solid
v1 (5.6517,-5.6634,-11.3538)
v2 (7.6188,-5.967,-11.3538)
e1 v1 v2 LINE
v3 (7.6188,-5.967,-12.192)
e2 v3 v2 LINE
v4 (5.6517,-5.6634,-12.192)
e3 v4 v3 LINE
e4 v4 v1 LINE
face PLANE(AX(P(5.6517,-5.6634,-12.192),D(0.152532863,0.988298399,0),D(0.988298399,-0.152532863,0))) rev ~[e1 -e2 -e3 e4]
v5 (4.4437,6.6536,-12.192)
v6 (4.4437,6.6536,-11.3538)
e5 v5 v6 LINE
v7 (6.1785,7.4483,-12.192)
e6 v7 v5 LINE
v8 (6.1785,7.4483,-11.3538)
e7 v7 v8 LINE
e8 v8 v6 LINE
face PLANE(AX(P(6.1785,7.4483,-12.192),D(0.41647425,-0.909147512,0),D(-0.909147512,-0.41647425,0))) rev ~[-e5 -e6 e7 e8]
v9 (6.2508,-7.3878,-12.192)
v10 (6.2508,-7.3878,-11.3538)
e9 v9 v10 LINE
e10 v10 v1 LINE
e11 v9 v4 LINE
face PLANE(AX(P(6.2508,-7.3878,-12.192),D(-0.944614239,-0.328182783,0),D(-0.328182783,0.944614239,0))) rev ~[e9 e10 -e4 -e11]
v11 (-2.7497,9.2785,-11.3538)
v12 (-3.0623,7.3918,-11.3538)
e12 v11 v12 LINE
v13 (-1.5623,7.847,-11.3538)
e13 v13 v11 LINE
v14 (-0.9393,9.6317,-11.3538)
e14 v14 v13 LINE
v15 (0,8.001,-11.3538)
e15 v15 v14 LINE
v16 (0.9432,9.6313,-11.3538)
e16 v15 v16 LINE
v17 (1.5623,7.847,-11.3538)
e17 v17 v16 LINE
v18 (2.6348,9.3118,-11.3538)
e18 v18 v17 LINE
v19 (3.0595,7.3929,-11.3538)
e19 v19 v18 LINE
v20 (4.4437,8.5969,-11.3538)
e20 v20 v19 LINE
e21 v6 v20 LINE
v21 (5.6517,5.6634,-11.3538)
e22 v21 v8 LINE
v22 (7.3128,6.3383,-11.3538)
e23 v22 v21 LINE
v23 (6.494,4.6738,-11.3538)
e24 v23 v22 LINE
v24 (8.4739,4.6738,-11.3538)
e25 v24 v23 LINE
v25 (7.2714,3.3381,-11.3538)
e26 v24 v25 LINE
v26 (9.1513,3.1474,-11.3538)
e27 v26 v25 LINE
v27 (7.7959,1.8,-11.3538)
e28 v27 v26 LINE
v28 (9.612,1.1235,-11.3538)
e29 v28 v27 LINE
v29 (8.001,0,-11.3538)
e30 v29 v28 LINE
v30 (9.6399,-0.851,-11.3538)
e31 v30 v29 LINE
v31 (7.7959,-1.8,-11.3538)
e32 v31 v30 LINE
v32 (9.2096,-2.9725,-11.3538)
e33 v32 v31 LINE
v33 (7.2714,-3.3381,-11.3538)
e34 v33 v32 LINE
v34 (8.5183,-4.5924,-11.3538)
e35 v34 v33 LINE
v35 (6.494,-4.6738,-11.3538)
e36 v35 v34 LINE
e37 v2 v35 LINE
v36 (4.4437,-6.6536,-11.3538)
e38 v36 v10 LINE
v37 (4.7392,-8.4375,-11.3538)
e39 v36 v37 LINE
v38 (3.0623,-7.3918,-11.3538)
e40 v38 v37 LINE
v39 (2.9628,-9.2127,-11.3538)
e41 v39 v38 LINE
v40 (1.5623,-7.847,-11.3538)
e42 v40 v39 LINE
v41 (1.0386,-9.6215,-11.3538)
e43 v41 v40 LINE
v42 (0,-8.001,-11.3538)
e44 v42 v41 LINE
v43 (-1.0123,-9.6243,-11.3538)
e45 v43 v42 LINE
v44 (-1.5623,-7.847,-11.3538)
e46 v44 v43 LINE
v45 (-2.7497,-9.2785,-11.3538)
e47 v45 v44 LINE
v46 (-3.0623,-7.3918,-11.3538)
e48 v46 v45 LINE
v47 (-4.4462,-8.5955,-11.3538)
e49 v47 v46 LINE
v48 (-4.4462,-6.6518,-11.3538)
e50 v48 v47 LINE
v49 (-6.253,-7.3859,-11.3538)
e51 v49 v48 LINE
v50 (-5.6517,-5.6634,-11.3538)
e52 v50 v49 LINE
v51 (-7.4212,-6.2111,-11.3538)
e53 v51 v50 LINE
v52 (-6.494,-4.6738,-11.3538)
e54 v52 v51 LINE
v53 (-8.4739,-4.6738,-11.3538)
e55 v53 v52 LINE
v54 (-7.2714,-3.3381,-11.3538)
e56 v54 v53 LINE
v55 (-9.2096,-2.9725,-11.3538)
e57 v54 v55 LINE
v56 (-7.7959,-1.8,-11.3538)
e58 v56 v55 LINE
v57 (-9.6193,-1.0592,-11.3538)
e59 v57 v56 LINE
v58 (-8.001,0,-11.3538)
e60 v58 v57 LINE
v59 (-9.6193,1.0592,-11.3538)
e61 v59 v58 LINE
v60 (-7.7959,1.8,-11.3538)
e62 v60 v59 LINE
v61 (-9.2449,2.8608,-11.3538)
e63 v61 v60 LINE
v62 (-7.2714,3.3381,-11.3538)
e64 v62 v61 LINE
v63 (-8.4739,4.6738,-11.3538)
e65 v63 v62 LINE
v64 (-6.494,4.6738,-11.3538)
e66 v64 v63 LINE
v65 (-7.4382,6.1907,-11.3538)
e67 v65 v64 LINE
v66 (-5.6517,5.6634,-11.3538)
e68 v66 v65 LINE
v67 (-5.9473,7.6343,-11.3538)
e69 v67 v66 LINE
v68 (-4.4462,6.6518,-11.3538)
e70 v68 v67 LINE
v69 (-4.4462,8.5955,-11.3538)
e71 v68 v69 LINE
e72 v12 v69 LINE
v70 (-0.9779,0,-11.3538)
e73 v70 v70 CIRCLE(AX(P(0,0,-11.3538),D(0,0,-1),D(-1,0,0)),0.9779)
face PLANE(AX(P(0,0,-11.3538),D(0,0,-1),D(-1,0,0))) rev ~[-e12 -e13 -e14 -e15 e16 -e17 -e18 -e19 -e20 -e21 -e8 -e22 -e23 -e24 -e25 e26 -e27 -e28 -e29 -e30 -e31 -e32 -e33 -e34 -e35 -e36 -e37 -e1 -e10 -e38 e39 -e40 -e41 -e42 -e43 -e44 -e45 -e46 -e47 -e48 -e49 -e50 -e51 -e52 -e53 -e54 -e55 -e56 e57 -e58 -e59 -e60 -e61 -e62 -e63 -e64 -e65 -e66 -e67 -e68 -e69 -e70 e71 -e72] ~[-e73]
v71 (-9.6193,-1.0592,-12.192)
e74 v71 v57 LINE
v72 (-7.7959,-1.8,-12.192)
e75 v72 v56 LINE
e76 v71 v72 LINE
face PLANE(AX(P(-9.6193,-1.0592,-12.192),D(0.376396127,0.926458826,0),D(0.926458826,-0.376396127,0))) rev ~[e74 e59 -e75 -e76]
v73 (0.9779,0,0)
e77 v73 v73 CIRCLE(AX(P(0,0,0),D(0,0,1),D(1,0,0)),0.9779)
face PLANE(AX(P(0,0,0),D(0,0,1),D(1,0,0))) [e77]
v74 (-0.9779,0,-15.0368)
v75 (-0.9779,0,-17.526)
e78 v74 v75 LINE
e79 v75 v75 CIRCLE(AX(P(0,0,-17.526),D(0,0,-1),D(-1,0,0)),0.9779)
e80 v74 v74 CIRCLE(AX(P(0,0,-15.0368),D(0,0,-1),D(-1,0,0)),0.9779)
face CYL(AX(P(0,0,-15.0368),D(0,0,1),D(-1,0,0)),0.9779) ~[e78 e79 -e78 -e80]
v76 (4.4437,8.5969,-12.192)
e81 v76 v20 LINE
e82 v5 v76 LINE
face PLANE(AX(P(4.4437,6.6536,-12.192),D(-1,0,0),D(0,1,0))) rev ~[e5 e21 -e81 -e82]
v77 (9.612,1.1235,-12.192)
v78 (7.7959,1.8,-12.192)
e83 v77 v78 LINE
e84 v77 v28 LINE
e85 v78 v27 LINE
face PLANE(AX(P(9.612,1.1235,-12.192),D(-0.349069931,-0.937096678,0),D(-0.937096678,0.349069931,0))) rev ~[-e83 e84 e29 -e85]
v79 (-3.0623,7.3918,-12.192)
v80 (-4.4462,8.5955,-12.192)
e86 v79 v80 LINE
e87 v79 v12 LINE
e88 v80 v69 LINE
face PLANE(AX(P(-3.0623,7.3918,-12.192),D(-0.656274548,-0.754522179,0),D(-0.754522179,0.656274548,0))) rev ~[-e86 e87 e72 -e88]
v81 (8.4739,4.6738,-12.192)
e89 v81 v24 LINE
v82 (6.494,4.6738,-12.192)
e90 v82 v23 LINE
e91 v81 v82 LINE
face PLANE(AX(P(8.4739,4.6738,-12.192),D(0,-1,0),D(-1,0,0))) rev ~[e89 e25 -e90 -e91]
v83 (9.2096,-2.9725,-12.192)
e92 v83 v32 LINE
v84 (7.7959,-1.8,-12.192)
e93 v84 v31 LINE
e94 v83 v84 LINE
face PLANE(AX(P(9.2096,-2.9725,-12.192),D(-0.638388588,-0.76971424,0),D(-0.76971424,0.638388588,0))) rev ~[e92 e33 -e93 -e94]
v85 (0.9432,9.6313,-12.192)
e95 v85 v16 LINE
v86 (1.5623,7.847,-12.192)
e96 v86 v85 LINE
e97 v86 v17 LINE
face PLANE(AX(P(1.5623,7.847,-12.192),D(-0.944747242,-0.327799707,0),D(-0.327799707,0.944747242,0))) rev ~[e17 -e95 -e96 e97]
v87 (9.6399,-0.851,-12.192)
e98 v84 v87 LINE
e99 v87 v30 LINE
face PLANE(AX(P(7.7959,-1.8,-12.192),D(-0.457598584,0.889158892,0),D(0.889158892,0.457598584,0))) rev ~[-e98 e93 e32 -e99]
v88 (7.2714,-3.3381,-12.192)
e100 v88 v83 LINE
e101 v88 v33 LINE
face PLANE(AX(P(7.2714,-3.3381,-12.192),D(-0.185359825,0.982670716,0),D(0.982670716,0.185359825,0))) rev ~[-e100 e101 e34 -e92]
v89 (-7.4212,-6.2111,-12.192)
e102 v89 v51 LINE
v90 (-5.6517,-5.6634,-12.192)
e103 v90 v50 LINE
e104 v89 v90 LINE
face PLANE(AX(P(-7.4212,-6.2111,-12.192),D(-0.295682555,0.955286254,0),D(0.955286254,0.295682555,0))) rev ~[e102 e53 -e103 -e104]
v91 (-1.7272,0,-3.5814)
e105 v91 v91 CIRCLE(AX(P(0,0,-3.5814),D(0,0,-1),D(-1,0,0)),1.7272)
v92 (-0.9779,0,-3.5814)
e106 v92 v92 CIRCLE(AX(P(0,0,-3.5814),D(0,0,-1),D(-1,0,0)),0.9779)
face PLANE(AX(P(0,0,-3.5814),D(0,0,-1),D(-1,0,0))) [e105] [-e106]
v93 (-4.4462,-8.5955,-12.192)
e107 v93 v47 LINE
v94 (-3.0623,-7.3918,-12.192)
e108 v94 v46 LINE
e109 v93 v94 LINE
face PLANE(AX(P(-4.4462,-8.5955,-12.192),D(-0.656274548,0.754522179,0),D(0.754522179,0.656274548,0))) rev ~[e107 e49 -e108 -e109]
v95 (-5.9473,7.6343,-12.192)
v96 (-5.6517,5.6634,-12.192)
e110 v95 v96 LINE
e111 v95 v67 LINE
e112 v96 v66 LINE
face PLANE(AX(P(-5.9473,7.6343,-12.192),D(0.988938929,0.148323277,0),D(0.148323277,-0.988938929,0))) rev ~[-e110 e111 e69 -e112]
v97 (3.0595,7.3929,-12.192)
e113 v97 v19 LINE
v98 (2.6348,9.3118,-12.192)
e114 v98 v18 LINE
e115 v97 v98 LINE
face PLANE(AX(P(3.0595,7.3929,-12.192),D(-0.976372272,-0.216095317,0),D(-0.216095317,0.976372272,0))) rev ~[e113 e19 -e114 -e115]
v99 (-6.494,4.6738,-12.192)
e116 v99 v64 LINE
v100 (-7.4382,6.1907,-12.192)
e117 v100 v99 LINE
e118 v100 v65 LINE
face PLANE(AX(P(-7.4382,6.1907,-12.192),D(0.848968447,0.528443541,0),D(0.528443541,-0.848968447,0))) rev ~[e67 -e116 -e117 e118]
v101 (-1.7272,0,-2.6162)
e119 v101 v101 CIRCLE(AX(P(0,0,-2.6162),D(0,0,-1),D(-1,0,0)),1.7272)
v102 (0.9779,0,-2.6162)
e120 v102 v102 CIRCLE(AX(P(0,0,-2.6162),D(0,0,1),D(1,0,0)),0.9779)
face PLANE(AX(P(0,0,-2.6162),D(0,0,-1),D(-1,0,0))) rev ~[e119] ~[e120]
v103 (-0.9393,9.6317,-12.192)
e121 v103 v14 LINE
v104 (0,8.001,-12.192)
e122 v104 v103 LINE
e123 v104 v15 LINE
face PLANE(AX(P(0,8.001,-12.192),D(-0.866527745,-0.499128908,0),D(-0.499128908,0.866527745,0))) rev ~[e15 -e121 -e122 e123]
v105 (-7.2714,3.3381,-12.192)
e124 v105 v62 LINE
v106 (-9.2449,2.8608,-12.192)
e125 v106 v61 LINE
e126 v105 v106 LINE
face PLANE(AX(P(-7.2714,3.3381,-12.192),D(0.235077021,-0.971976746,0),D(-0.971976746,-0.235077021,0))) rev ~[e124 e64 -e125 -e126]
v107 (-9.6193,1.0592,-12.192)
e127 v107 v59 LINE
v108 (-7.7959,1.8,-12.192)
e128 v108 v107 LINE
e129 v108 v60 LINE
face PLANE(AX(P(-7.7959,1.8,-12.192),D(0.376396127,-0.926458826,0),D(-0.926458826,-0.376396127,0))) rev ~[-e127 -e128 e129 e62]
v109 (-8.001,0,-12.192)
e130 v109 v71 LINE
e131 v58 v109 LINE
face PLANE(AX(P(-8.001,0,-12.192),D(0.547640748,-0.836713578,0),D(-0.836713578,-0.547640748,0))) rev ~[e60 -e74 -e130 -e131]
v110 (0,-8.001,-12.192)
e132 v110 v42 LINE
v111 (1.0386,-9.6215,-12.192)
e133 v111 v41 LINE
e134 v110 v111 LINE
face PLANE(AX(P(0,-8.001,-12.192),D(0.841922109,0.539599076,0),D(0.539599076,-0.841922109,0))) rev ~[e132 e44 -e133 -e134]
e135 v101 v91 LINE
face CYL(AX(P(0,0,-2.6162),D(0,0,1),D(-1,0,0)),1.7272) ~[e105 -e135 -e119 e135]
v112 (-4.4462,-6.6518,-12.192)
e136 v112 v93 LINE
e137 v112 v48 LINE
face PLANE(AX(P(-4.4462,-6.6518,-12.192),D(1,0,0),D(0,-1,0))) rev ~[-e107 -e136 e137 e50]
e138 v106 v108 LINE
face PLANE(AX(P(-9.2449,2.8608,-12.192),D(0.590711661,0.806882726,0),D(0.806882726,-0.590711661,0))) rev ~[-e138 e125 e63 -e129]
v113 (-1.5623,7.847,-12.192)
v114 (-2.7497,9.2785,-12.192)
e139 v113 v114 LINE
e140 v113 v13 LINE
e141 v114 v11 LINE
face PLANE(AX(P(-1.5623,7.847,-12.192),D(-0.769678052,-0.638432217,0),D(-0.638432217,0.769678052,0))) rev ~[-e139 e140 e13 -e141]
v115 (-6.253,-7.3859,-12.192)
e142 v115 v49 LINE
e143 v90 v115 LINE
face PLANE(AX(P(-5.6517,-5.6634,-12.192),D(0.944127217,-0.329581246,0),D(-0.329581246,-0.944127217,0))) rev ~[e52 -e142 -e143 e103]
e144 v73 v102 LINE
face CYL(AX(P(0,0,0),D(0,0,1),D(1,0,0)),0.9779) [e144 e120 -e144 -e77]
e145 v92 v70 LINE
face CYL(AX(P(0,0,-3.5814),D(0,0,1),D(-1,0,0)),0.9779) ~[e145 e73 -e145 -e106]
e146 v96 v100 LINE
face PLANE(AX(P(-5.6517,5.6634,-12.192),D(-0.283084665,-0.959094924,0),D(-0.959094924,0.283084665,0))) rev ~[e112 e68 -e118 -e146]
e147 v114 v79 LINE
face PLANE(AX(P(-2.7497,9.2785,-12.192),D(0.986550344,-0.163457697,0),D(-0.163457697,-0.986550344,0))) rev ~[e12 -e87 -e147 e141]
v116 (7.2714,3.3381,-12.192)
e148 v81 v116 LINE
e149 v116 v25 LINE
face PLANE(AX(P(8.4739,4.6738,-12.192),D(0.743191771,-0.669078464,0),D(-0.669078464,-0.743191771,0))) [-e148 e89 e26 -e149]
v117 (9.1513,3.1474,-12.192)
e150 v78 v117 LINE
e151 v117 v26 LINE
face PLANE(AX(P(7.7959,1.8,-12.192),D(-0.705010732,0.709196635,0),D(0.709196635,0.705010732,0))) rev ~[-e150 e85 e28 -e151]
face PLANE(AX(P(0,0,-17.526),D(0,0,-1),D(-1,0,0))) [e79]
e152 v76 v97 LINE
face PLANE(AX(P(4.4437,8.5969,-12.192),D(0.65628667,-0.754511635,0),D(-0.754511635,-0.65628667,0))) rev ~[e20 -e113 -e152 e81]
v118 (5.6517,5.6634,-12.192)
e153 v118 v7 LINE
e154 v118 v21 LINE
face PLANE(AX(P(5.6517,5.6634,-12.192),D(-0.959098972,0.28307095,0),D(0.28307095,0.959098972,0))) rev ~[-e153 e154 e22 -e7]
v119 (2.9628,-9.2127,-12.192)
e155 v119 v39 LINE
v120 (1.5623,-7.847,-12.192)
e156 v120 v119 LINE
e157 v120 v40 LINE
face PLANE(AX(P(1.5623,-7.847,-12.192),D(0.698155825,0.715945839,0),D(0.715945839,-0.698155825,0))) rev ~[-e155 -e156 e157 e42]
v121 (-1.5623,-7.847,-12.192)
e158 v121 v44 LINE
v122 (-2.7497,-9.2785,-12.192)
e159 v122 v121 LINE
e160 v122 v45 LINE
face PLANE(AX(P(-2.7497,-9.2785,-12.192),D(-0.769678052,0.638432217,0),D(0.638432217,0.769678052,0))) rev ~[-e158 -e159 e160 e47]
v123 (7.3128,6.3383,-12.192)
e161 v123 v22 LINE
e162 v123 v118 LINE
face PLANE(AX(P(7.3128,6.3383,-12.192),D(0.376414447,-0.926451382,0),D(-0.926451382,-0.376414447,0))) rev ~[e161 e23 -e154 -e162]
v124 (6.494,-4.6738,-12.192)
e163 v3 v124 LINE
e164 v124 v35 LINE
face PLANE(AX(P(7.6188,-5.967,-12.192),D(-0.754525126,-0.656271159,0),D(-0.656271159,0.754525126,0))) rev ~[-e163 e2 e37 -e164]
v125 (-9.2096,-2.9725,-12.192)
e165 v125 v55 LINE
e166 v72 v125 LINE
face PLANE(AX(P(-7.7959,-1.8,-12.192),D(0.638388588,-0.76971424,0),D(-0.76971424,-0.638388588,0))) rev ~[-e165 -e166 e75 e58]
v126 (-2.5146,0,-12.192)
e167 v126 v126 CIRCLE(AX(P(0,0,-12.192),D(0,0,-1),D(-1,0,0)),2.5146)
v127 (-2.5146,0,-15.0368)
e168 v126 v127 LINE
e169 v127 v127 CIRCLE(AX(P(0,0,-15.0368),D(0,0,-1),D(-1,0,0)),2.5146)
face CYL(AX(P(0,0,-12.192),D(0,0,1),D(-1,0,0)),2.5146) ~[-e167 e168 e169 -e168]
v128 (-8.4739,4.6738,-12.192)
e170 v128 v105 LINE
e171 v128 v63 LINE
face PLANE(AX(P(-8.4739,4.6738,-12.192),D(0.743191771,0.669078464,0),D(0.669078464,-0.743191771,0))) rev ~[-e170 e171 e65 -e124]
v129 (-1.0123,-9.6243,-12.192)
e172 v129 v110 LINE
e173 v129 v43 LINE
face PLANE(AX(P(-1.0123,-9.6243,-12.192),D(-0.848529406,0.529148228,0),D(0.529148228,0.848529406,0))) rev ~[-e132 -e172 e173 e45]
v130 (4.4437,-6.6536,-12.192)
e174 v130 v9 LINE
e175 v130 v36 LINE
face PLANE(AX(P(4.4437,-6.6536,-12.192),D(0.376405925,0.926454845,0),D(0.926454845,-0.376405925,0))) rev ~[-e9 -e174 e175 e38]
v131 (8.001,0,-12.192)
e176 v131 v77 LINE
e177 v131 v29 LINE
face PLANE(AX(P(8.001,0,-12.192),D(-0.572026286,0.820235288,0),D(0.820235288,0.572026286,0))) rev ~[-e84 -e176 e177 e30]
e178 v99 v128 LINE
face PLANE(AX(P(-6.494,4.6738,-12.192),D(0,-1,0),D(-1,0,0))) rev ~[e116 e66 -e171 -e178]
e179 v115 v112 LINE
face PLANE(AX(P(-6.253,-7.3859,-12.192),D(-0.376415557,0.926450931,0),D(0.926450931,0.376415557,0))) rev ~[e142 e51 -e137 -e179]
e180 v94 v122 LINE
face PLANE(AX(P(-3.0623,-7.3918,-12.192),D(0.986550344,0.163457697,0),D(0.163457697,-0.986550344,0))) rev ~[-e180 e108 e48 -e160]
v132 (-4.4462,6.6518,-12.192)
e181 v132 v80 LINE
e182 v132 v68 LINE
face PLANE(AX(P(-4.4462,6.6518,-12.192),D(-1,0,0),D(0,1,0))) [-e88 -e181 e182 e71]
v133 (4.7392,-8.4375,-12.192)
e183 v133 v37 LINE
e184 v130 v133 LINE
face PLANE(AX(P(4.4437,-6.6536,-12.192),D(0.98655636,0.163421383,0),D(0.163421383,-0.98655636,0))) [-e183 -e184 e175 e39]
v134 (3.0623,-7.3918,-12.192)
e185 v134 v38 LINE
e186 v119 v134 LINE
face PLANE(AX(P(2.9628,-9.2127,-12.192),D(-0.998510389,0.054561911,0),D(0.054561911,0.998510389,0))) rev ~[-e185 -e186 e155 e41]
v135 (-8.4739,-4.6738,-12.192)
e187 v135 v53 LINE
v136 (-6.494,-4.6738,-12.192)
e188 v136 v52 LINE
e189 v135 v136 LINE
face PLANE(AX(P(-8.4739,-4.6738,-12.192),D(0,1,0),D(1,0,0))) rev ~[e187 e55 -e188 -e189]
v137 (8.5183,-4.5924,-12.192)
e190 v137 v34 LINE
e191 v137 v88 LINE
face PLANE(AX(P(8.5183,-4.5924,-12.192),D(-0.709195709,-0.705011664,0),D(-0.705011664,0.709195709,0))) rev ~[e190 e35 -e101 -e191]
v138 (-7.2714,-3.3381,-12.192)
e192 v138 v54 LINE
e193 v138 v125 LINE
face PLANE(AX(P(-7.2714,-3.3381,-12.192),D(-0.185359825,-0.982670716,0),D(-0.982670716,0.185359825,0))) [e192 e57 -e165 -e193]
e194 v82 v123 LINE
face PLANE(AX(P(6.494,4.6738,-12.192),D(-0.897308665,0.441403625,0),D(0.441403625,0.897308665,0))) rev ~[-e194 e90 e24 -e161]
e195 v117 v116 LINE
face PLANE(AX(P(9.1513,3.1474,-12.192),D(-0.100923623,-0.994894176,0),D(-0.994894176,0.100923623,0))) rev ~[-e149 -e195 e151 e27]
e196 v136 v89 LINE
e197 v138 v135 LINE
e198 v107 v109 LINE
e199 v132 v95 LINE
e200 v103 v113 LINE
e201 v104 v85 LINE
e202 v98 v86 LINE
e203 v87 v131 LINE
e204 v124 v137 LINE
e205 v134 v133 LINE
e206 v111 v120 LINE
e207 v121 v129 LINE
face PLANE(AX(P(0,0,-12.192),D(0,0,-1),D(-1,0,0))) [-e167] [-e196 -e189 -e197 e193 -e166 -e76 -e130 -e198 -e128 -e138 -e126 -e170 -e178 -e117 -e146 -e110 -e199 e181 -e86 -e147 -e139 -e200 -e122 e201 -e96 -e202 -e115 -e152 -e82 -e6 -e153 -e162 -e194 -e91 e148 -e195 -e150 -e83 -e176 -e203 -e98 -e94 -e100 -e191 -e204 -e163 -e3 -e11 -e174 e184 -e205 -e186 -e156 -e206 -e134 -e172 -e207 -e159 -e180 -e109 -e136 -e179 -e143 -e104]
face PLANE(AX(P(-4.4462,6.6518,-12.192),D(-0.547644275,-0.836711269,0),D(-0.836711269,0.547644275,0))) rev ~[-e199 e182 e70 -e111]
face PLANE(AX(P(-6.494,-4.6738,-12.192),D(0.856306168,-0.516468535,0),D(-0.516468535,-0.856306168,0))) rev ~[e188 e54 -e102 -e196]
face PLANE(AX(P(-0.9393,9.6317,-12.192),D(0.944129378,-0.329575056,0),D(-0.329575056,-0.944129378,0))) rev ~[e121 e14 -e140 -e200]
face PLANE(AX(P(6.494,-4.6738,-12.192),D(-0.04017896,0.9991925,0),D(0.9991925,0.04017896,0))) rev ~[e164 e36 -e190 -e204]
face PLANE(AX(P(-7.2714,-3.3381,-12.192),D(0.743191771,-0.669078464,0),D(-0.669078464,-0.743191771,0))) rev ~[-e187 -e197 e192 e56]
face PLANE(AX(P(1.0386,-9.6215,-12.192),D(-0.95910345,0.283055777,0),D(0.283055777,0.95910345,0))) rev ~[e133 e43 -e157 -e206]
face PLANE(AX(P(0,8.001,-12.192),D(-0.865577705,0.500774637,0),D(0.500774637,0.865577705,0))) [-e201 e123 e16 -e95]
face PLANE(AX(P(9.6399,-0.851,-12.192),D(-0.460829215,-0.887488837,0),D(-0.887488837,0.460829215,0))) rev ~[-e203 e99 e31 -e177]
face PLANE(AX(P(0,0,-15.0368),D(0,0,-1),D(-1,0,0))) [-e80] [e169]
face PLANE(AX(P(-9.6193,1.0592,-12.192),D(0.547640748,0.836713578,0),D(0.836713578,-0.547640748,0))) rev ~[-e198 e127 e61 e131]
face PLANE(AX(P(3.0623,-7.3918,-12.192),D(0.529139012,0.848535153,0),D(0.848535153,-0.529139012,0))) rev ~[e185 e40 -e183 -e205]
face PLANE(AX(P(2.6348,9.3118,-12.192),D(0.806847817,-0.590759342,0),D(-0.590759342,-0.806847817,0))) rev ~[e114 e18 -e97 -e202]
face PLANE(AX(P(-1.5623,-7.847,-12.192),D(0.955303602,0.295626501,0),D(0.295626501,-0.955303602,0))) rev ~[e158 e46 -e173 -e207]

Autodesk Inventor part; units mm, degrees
ref_plane "YZ Plane" through (0, 0, 0) normal (1, 0, 0) x (0, 1, 0)
ref_plane "XZ Plane" through (0, 0, 0) normal (0, 1, 0) x (-1, 0, 0)
ref_plane "XY Plane" through (0, 0, 0) normal (0, 0, 1) x (1, 0, 0)
sketch "Sketch1" plane through (0, 0, 0) normal (0, 0, 1) x (1, 0, 0)
  circle A0 centre (0, 0) radius 0.9779
  dimension "d0" = 1.9558
extrude "Extrusion1" add sketch "Sketch1" against normal blind 2.6162
sketch "Sketch2" plane through (0, 0, -2.6162) normal (0, 0, -1) x (-1, 0, 0)
  circle A0 centre (0, 0) radius 1.7272
  dimension "d3" = 3.4544
extrude "Extrusion2" add sketch "Sketch2" along normal blind 0.9652
sketch "Sketch3" plane through (0, 0, -3.5814) normal (0, 0, -1) x (-1, 0, 0)
  circle A0 centre (0, 0) radius 0.9779
extrude "Extrusion3" add sketch "Sketch3" along normal blind 7.7724
sketch "Sketch4" plane through (0, 0, -11.3538) normal (0, 0, -1) x (-1, 0, 0)
  circle A0 centre (0, 0) radius 8.001
  dimension "d8" = 16.002
extrude "Extrusion4" add sketch "Sketch4" along normal blind 0.8382
sketch "Sketch5" plane through (0, 0, -12.192) normal (0, 0, -1) x (-1, 0, 0)
  circle A0 centre (0, 0) radius 8.001 projected
  circle A1 centre (0, 0) radius 2.5146
  point P0 (-4.9792, 6.2629)
  point P1 (-3.3536, 7.2643)
  point P2 (-1.728, 7.8122)
  point P3 (-0.1024, 8.0003)
  point P4 (1.5232, 7.8547)
  point P5 (5.0214, 6.2291)
  point P6 (6.544, 4.6035)
  point P7 (7.4262, 2.9779)
  point P8 (7.8859, 1.3523)
  point P9 (7.9963, -0.2733)
  point P10 (7.7724, -1.8989)
  point P11 (7.1829, -3.5245)
  point P12 (6.1231, -5.1501)
  point P13 (4.4975, -6.6173)
  point P14 (2.8719, -7.4678)
  point P15 (1.2463, -7.9033)
  point P16 (-0.3793, -7.992)
  point P17 (-2.0049, -7.7457)
  point P18 (-3.6305, -7.1299)
  point P19 (-5.2561, -6.0323)
  point P20 (-6.8817, -4.0814)
  point P21 (-7.6148, -2.4558)
  point P22 (-7.9578, -0.8302)
  point P23 (-7.9614, 0.7954)
  point P24 (-7.6259, 2.421)
  point P25 (-6.9023, 4.0466)
  point P26 (-5.6429, 5.6722)
  point P27 (-3.3816, 7.2513)
  dimension "d11" = 1.6256
  dimension "d12" = 1.6256
  dimension "d13" = 1.6256
  dimension "d14" = 1.6256
  dimension "d15" = 1.6256
  dimension "d16" = 1.6256
  dimension "d17" = 1.6256
  dimension "d18" = 1.6256
  dimension "d19" = 1.6256
  dimension "d20" = 1.6256
  dimension "d21" = 1.6256
  dimension "d22" = 1.6256
  dimension "d23" = 1.6256
  dimension "d24" = 1.6256
  dimension "d25" = 1.6256
  dimension "d26" = 1.6256
  dimension "d27" = 1.6256
  dimension "d28" = 1.6256
  dimension "d29" = 1.6256
  dimension "d30" = 1.6256
  dimension "d32" = 1.6256
  dimension "d33" = 1.6256
  dimension "d34" = 1.6256
  dimension "d35" = 1.6256
  dimension "d36" = 1.6256
  dimension "d37" = 1.6256
  dimension "d39" = 5.0292
extrude "Extrusion5" add sketch "Sketch5" along normal blind 2.8448 contours A1
sketch "Sketch6" plane through (0, 0, -15.0368) normal (0, 0, -1) x (-1, 0, 0)
  circle A0 centre (0, 0) radius 0.9779
  dimension "d42" = 1.9558
extrude "Extrusion6" add sketch "Sketch6" along normal blind 2.4892
sketch "Sketch8" plane through (0, 0, -12.192) normal (0, 0, -1) x (-1, 0, 0)
  point P0 (0, 0)
sketch "Sketch9" plane through (0, 0, -12.192) normal (0, 0, -1) x (-1, 0, 0)
  circle A0 centre (0, 0) radius 8.001 projected
  circle A1 centre (0, 0) radius 9.6774
  line L0 (0, 8.001) -> (0.9393, 9.6317)
  line L1 (0.9393, 9.6317) -> (1.5623, 7.847)
  line L2 (1.5623, 7.847) -> (2.7497, 9.2785)
  line L3 (2.7497, 9.2785) -> (3.0623, 7.3918)
  line L4 (3.0623, 7.3918) -> (4.4462, 8.5955)
  line L5 (4.4462, 6.6518) -> (5.9473, 7.6343)
  line L6 (5.9473, 7.6343) -> (5.6517, 5.6634)
  line L7 (5.6517, 5.6634) -> (7.4382, 6.1907)
  line L8 (7.4382, 6.1907) -> (6.494, 4.6738)
  line L9 (6.494, 4.6738) -> (8.4739, 4.6738)
  line L10 (8.4739, 4.6738) -> (7.2714, 3.3381)
  line L11 (7.2714, 3.3381) -> (9.2449, 2.8608)
  line L12 (9.2449, 2.8608) -> (7.7959, 1.8)
  line L13 (7.7959, 1.8) -> (9.6193, 1.0592)
  line L14 (9.6193, 1.0592) -> (8.001, 0)
  line L15 (8.001, 0) -> (9.6193, -1.0592)
  line L16 (9.6193, -1.0592) -> (7.7959, -1.8)
  line L17 (7.7959, -1.8) -> (9.2096, -2.9725)
  line L18 (7.2714, -3.3381) -> (9.2096, -2.9725)
  line L19 (7.2714, -3.3381) -> (8.4739, -4.6738)
  line L20 (8.4739, -4.6738) -> (6.494, -4.6738)
  line L21 (6.494, -4.6738) -> (7.4212, -6.2111)
  line L22 (7.4212, -6.2111) -> (5.6517, -5.6634)
  line L23 (5.6517, -5.6634) -> (6.253, -7.3859)
  line L24 (6.253, -7.3859) -> (4.4462, -6.6518)
  line L25 (4.4462, -6.6518) -> (4.4462, -8.5955)
  line L26 (4.4462, -8.5955) -> (3.0623, -7.3918)
  line L27 (3.0623, -7.3918) -> (2.7497, -9.2785)
  line L28 (2.7497, -9.2785) -> (1.5623, -7.847)
  line L29 (1.5623, -7.847) -> (1.0123, -9.6243)
  line L30 (1.0123, -9.6243) -> (0, -8.001)
  line L31 (0, -8.001) -> (-1.0386, -9.6215)
  line L32 (-1.0386, -9.6215) -> (-1.5623, -7.847)
  line L33 (-1.5623, -7.847) -> (-2.9628, -9.2127)
  line L34 (-2.9628, -9.2127) -> (-3.0623, -7.3918)
  line L35 (-3.0623, -7.3918) -> (-4.7392, -8.4375)
  line L36 (-4.4437, -6.6536) -> (-4.7392, -8.4375)
  line L37 (-4.4437, -6.6536) -> (-6.2508, -7.3878)
  line L38 (-6.2508, -7.3878) -> (-5.6517, -5.6634)
  line L39 (-5.6517, -5.6634) -> (-7.6188, -5.967)
  line L40 (-7.6188, -5.967) -> (-6.494, -4.6738)
  line L41 (-6.494, -4.6738) -> (-8.5183, -4.5924)
  line L42 (-8.5183, -4.5924) -> (-7.2714, -3.3381)
  line L43 (-7.2714, -3.3381) -> (-9.2096, -2.9725)
  line L44 (-9.2096, -2.9725) -> (-7.7959, -1.8)
  line L45 (-7.7959, -1.8) -> (-9.6399, -0.851)
  line L46 (-9.6399, -0.851) -> (-8.001, 0)
  line L47 (-8.001, 0) -> (-9.612, 1.1235)
  line L48 (-9.612, 1.1235) -> (-7.7959, 1.8)
  line L49 (-7.7959, 1.8) -> (-9.1513, 3.1474)
  line L50 (-9.1513, 3.1474) -> (-7.2714, 3.3381)
  line L51 (-8.4739, 4.6738) -> (-7.2714, 3.3381)
  line L52 (-8.4739, 4.6738) -> (-6.494, 4.6738)
  line L53 (-6.494, 4.6738) -> (-7.3128, 6.3383)
  line L54 (-7.3128, 6.3383) -> (-5.6517, 5.6634)
  line L55 (-5.6517, 5.6634) -> (-6.1785, 7.4483)
  line L56 (-6.1785, 7.4483) -> (-4.4437, 6.6536)
  line L57 (-4.4437, 6.6536) -> (-4.4437, 8.5969)
  line L58 (-4.4437, 8.5969) -> (-3.0595, 7.3929)
  line L59 (-3.0595, 7.3929) -> (-2.6348, 9.3118)
  line L60 (-2.6348, 9.3118) -> (-1.5623, 7.847)
  line L61 (-1.5623, 7.847) -> (-0.9432, 9.6313)
  line L62 (0, 8.001) -> (-0.9432, 9.6313)
  line L63 (4.4462, 6.6518) -> (4.4462, 8.5955)
  point P0 (-4.4462, 6.6518)
  dimension "d71" = 19.3548
extrude "Extrusion7" add sketch "Sketch9" against normal blind 0.8382 contours L15 L16 A0 | A0 L13 L14 | A0 L11 L12 | L17 L18 A0 | A0 L9 L10 | L19 L20 A0 | A0 L7 L8 | L21 L22 A0 | A0 L5 L6 | L23 L24 A0 | A0 L4 L63 | L25 L26 A0 | A0 L2 L3 | L27 L28 A0 | A0 L0 L1 | L29 L30 A0 | A0 L61 L62 | L31 L32 A0 | A0 L59 L60 | L33 L34 A0 | A0 L57 L58 | L35 L36 A0 | A0 L55 L56 | L37 L38 A0 | A0 L53 L54 | L39 L40 A0 | A0 L51 L52 | L41 L42 A0 | A0 L49 L50 | L43 L44 A0 | A0 L47 L48 | L45 L46 A0
properties part number "gear" material "Aluminum 6061"
